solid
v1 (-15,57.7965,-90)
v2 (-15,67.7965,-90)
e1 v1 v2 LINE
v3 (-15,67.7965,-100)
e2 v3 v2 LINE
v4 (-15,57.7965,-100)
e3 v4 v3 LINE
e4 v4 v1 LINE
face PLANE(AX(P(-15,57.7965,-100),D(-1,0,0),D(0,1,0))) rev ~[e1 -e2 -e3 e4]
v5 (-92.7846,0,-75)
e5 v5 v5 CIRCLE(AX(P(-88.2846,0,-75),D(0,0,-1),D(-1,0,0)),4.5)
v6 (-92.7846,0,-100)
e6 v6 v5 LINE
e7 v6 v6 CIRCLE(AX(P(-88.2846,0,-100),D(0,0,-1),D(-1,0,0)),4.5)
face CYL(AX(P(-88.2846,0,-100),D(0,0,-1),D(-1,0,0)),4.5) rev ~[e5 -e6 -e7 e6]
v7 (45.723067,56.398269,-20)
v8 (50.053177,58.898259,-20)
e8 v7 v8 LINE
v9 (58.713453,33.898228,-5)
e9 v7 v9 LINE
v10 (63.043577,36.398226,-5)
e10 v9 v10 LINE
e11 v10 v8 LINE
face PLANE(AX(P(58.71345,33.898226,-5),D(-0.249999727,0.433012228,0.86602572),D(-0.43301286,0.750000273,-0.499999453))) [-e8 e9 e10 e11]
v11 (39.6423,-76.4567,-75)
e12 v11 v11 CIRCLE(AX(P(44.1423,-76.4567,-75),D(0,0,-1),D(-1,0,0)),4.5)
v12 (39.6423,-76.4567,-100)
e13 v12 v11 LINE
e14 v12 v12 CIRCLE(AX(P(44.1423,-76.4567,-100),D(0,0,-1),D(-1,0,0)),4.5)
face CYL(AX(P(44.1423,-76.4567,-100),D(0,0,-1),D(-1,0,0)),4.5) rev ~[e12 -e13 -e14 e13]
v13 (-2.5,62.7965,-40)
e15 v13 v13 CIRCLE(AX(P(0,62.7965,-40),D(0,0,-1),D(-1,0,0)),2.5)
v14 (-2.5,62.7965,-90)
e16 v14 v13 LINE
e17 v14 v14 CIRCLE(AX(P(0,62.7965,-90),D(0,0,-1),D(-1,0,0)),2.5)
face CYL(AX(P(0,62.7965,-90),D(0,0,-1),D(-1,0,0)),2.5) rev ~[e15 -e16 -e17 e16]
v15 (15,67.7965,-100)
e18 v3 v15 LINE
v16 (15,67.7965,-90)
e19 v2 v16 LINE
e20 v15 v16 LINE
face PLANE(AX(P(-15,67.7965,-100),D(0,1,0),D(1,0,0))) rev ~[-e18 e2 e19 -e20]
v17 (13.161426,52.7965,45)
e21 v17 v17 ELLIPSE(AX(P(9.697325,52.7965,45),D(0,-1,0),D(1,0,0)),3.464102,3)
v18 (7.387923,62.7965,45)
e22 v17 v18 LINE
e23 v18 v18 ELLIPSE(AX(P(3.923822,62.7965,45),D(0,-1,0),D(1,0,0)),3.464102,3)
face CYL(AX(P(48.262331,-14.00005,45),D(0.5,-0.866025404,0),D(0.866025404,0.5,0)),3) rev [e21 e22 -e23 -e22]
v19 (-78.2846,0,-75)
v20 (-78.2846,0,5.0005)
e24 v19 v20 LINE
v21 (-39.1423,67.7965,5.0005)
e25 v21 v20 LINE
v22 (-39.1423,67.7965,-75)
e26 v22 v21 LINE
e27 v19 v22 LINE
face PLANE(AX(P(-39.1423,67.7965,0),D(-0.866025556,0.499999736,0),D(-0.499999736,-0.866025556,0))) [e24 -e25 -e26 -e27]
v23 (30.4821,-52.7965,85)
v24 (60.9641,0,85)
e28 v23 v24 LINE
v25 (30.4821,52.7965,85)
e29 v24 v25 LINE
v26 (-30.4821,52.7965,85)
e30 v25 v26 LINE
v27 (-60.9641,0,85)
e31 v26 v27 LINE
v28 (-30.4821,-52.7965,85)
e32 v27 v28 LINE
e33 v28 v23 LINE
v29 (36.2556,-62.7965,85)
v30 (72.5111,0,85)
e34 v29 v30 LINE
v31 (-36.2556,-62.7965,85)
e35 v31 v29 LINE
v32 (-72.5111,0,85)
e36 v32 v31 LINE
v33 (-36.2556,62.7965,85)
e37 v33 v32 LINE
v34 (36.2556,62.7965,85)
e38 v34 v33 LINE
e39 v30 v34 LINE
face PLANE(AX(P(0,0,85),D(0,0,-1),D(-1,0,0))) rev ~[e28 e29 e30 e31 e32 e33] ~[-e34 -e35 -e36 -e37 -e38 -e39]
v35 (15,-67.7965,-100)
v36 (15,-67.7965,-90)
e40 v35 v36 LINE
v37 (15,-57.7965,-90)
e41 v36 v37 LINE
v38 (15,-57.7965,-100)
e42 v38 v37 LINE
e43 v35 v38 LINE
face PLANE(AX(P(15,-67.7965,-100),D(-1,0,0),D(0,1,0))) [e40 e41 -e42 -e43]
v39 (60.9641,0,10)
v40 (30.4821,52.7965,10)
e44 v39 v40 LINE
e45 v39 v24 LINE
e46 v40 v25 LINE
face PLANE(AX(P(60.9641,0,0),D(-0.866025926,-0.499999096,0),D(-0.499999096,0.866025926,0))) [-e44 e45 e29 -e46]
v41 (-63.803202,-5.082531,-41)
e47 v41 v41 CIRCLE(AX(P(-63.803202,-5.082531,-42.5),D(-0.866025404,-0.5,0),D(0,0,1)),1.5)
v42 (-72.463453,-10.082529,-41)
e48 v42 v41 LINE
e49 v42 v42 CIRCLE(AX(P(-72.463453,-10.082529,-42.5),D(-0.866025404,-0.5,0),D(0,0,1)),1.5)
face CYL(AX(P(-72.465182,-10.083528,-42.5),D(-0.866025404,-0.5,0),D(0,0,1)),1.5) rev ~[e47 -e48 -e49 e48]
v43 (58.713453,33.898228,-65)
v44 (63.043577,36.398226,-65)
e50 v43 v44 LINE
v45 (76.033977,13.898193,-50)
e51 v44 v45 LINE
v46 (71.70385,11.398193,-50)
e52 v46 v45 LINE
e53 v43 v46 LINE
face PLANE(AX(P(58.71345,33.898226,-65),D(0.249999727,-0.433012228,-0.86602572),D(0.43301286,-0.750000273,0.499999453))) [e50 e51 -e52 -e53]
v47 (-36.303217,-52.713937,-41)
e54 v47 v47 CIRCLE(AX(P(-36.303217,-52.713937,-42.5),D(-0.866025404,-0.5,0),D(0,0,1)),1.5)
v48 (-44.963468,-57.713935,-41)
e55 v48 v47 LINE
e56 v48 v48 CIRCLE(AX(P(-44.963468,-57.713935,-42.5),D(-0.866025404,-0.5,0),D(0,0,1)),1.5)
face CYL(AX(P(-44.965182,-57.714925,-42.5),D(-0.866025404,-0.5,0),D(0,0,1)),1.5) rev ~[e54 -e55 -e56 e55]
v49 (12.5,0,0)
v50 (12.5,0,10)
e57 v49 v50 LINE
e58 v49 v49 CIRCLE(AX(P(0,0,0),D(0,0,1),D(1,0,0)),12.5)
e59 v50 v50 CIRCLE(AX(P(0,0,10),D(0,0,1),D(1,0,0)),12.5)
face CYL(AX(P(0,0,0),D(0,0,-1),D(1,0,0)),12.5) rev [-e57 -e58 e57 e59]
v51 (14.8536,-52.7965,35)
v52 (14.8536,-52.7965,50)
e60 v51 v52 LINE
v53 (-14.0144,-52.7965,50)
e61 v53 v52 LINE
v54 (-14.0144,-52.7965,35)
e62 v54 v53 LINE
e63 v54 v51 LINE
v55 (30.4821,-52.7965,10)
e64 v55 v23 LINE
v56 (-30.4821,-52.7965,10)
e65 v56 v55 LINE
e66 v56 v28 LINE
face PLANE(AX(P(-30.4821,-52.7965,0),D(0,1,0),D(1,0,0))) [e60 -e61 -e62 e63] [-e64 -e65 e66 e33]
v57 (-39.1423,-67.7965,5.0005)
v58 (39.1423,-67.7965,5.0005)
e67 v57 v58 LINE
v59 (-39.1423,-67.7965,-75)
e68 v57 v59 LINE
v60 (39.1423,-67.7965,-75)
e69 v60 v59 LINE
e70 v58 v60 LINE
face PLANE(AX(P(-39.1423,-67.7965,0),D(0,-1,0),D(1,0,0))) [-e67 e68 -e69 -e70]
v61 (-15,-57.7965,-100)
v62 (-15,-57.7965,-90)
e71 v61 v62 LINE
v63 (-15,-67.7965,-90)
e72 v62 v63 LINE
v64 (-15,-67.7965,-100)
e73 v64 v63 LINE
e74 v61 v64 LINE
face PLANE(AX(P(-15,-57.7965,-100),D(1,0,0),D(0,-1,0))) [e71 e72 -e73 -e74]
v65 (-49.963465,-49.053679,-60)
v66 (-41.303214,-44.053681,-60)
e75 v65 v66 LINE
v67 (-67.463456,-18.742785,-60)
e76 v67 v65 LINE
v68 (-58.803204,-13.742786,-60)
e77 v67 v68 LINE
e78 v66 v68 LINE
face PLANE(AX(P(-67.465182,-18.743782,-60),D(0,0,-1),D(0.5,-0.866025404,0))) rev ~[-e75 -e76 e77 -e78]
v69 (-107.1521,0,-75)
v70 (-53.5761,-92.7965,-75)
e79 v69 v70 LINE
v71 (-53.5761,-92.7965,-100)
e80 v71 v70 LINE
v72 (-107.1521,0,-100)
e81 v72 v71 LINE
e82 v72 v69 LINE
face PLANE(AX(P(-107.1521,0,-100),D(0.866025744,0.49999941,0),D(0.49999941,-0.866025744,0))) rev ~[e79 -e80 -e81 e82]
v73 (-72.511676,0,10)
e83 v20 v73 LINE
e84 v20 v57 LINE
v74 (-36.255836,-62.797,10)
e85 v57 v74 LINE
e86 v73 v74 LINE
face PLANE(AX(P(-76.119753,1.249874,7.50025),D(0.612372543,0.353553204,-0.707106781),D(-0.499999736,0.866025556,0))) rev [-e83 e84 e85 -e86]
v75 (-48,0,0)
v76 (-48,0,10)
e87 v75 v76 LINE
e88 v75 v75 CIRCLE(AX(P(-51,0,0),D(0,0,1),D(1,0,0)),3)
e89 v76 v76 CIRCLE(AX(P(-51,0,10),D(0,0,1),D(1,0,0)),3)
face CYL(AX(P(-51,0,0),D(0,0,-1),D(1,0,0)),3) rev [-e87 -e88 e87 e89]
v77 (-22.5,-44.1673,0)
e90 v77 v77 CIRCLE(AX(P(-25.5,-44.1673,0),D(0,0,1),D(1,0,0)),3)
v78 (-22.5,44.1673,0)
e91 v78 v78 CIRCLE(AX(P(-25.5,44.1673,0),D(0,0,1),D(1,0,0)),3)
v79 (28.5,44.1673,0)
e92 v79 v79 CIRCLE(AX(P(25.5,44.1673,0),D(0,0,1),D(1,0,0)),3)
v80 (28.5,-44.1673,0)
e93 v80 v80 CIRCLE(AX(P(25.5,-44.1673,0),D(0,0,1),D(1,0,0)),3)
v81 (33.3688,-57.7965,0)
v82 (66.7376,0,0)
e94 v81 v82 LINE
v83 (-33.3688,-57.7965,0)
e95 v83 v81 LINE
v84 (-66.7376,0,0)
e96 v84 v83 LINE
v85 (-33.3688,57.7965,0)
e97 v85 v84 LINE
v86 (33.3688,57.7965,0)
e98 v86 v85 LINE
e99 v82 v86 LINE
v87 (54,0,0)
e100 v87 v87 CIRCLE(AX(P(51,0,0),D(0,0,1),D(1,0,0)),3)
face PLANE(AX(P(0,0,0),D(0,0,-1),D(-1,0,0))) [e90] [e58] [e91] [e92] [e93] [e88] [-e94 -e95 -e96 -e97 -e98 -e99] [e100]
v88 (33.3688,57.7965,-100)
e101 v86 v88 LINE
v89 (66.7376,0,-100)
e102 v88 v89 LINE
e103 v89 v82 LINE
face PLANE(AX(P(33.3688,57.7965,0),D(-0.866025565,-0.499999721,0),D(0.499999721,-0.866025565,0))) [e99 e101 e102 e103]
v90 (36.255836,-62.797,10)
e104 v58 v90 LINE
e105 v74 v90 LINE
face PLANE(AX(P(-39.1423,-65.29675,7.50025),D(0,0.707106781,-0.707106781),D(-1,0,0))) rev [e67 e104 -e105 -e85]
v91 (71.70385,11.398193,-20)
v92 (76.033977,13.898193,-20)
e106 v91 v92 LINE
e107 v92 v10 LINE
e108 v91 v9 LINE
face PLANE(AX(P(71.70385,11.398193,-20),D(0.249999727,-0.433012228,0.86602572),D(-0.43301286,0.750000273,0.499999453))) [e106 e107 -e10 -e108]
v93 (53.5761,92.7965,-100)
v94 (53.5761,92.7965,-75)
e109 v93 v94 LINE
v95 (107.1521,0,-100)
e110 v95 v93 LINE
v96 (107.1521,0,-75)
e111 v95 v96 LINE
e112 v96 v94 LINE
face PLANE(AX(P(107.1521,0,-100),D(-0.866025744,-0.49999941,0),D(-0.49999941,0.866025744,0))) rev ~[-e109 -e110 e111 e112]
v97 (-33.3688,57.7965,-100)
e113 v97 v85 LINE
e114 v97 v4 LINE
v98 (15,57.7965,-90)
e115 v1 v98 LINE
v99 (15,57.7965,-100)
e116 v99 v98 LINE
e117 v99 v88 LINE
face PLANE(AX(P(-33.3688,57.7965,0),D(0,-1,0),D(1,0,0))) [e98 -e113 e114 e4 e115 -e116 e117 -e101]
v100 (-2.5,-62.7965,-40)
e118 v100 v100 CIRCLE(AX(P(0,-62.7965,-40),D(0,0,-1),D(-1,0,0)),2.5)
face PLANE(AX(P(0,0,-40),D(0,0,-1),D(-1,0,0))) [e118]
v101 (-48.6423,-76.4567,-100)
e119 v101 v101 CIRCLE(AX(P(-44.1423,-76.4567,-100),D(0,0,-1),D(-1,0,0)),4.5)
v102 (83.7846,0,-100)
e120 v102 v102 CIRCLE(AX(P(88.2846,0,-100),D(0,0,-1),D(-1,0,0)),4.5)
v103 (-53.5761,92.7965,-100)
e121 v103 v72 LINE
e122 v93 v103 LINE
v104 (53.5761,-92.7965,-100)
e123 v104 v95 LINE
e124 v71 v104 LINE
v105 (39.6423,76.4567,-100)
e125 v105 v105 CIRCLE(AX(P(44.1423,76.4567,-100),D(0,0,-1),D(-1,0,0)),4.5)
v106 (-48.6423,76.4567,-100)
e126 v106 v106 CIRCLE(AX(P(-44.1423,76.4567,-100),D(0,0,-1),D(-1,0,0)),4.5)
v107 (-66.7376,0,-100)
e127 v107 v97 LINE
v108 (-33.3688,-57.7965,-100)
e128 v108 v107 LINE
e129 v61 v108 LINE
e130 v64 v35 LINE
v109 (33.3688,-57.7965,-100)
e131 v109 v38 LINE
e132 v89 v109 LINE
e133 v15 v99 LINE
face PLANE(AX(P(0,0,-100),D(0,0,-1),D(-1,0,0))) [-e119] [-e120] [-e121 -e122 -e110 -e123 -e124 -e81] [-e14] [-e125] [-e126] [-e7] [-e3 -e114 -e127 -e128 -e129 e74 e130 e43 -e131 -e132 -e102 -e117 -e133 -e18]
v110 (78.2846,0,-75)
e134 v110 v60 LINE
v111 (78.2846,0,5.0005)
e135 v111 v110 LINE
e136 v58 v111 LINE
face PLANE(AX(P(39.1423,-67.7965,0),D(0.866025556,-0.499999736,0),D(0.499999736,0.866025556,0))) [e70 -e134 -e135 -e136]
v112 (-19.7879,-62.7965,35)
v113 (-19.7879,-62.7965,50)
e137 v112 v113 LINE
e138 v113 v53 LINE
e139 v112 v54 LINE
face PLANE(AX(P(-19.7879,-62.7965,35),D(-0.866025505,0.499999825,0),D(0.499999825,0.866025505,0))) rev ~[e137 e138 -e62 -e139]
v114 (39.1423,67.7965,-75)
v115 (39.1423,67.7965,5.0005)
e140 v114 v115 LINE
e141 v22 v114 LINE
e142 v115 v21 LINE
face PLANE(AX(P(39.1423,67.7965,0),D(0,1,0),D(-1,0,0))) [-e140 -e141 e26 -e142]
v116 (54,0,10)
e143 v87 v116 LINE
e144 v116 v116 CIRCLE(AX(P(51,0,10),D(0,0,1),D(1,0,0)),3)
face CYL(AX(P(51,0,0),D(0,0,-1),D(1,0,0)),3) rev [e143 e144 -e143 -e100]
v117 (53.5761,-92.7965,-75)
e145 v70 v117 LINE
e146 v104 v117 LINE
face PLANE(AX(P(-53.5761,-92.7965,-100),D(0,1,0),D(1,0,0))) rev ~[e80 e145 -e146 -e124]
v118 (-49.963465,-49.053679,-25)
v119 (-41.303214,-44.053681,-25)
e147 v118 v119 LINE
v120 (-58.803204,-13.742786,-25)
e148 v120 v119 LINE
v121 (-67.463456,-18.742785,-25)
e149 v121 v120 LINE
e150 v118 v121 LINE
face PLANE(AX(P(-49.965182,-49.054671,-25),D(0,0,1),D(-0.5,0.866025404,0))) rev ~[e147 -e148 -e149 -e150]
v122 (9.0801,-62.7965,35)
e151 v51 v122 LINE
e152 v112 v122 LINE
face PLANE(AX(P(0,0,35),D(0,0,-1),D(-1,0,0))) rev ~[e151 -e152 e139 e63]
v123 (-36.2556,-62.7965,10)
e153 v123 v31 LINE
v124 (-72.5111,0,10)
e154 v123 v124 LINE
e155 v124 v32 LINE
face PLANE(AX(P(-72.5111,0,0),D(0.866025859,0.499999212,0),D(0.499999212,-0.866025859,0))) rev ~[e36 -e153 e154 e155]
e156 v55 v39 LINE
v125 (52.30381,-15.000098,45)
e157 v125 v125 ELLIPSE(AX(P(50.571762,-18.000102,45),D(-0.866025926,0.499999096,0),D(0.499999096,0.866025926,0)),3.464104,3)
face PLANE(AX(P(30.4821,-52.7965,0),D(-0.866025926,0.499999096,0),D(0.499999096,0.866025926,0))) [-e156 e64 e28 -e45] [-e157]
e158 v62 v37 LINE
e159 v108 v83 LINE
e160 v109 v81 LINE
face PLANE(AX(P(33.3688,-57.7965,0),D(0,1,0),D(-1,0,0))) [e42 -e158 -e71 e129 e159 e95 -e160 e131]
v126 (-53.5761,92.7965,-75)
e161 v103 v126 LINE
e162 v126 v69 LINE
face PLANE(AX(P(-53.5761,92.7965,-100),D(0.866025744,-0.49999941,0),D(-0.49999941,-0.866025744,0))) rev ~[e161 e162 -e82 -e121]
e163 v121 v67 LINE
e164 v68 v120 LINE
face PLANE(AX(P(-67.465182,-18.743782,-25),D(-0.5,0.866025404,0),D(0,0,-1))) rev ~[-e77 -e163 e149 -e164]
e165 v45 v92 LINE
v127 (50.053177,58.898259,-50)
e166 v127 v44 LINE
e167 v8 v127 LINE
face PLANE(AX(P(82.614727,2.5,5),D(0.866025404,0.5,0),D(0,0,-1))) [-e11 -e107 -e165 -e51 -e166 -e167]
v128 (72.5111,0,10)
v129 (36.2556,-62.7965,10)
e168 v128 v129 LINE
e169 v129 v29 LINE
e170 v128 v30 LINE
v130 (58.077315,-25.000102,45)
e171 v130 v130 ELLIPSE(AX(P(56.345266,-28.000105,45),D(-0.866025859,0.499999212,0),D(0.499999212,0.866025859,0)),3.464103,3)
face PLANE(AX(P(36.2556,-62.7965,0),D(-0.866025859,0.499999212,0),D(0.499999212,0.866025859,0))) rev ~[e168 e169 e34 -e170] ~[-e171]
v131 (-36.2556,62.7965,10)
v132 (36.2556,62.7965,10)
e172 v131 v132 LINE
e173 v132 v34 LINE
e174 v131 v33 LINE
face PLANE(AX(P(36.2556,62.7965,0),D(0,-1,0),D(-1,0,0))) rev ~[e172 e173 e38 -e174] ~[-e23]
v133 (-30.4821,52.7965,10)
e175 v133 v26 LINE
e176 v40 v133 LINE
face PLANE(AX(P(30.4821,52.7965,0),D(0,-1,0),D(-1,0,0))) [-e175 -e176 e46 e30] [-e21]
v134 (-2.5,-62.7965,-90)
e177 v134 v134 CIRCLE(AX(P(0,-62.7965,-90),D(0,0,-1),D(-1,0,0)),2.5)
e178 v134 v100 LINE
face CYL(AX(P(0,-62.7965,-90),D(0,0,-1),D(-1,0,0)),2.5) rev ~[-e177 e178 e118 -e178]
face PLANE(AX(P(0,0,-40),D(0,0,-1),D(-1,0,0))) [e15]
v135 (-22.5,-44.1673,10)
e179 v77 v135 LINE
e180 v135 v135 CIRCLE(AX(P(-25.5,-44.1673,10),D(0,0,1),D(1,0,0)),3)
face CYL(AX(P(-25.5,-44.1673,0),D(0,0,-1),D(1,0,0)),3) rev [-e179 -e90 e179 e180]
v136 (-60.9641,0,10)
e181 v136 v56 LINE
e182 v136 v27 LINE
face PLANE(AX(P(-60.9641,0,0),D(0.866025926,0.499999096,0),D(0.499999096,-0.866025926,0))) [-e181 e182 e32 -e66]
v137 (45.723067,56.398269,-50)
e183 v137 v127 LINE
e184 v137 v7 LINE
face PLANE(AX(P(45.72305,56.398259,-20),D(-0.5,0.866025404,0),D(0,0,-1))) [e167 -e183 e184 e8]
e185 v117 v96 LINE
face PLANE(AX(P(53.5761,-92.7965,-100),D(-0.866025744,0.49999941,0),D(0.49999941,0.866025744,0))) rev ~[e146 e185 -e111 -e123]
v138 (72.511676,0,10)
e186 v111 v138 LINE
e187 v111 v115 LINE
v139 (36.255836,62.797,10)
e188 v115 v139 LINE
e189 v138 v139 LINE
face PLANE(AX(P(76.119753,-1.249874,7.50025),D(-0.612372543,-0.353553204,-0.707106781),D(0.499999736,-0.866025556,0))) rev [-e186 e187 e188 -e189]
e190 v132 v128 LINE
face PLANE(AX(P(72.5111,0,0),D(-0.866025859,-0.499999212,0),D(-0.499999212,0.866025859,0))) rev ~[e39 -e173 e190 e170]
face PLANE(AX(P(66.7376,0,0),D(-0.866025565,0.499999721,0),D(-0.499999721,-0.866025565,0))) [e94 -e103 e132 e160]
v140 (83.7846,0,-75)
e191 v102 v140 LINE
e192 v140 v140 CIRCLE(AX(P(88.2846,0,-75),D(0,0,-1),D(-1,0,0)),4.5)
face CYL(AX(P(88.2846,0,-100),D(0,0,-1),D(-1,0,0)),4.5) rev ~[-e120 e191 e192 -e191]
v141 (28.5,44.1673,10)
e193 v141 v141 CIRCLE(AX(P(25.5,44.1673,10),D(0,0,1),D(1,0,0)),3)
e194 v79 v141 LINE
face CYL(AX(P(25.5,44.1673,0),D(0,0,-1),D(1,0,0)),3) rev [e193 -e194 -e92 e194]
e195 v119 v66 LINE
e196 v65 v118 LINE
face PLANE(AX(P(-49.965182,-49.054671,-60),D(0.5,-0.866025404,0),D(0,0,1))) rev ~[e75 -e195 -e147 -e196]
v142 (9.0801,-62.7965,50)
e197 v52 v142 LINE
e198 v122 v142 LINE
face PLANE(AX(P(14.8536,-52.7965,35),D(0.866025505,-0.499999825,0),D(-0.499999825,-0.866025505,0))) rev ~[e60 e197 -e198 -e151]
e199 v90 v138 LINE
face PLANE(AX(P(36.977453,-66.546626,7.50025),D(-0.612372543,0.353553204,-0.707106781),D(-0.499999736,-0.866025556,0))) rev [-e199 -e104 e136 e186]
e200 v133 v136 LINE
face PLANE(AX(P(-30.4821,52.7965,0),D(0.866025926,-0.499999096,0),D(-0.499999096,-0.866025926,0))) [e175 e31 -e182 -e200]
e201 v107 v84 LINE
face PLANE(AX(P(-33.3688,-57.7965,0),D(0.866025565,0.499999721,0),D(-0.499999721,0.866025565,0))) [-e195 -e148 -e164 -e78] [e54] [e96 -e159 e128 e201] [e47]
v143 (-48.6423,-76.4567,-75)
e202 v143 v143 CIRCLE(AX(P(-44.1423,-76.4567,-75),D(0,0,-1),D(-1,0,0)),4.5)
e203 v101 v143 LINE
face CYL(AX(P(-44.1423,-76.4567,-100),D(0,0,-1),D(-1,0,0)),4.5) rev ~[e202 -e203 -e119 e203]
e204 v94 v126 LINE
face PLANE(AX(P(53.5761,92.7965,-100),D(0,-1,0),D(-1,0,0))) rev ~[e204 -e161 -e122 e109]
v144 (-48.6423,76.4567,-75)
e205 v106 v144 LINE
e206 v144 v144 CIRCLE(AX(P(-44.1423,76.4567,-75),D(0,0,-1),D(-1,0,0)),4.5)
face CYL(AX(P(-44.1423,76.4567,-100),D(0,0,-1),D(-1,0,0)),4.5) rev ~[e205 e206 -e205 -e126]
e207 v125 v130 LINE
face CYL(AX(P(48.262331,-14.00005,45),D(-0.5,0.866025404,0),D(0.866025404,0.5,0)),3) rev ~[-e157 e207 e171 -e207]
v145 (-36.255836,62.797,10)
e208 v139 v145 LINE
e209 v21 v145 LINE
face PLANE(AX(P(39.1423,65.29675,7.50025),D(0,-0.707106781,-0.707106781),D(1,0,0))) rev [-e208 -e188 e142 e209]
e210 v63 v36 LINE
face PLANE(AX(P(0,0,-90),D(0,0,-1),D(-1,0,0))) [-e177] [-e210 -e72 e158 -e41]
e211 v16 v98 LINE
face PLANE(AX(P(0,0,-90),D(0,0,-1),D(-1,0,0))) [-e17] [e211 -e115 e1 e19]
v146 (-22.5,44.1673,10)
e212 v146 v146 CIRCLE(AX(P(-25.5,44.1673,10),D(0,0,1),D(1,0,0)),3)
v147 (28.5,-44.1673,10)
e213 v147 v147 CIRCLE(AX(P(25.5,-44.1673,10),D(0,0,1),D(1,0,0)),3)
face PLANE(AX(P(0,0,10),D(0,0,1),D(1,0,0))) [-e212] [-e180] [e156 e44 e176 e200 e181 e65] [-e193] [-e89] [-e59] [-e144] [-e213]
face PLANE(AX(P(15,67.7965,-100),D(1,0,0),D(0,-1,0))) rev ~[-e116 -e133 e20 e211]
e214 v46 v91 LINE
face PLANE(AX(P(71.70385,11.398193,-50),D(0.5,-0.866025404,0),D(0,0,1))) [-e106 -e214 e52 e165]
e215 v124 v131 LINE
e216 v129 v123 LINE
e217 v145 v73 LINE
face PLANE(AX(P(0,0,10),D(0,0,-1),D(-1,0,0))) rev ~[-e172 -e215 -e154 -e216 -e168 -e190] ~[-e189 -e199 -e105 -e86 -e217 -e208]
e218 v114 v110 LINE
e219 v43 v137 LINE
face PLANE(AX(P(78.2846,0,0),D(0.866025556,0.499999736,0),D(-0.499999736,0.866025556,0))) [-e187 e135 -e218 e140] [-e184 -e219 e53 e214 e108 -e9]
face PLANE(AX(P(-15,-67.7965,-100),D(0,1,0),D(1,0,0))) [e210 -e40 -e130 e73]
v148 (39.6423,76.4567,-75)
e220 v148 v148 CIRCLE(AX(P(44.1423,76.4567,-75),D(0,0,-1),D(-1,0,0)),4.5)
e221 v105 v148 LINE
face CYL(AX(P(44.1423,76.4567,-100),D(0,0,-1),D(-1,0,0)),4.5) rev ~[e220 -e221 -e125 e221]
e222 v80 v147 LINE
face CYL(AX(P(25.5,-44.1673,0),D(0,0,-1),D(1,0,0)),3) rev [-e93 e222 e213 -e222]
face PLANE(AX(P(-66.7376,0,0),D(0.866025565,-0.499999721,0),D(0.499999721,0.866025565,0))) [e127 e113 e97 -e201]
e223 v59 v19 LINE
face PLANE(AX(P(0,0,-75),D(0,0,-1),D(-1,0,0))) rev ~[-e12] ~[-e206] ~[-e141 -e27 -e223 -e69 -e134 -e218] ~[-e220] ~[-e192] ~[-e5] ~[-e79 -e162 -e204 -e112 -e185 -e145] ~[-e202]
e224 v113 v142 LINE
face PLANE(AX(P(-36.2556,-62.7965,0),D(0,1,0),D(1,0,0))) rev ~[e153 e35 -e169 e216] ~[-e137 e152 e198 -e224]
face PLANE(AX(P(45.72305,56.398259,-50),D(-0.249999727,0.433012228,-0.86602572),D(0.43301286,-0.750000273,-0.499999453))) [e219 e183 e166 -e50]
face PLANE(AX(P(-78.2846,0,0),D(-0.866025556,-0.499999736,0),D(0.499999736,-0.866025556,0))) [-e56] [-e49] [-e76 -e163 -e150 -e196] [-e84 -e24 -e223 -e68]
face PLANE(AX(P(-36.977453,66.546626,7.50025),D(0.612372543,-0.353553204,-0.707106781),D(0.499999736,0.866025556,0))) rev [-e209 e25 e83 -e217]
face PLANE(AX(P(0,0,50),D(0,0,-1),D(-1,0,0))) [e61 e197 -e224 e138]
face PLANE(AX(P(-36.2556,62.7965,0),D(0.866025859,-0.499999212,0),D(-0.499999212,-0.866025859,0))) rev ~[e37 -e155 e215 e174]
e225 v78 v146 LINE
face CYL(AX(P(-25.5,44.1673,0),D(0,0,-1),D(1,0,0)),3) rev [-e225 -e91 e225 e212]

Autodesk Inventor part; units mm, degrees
ref_plane "YZ Plane" through (0, 0, 0) normal (1, 0, 0) x (0, 1, 0)
sketch "Sketch1" plane through (0, 0, 0) normal (0, 0, 1) x (1, 0, 0)
  circle A0 centre (0, 0) radius 12.5
  circle A1 centre (51, 0) radius 3
  circle A2 centre (25.5, 44.1673) radius 3
  circle A3 centre (-25.5, 44.1673) radius 3
  circle A4 centre (-51, 0) radius 3
  circle A5 centre (-25.5, -44.1673) radius 3
  circle A6 centre (25.5, -44.1673) radius 3
  line L0 (57.5, 0) -> (28.75, -49.7965)
  line L1 (28.75, -49.7965) -> (-28.75, -49.7965)
  line L2 (-28.75, -49.7965) -> (-57.5, 0)
  line L3 (-57.5, 0) -> (-28.75, 49.7965)
  line L4 (-28.75, 49.7965) -> (28.75, 49.7965)
  line L5 (28.75, 49.7965) -> (57.5, 0)
  line L6 (-30.4821, 52.7965) -> (-60.9641, 0)
  line L7 (-60.9641, 0) -> (-30.4821, -52.7965)
  line L8 (-30.4821, -52.7965) -> (30.4821, -52.7965)
  line L9 (30.4821, -52.7965) -> (60.9641, 0)
  line L10 (60.9641, 0) -> (30.4821, 52.7965)
  line L11 (30.4821, 52.7965) -> (-30.4821, 52.7965)
  dimension "d0" = 25
  dimension "d1" = 6
  dimension "d2" = 51
  dimension "d5" = 360
  dimension "d7" = 115
  dimension "d8" = 3
extrude "Extrusion1" add sketch "Sketch1" along normal blind 10 contours L0 L1 L2 L3 L4 L5 | L11 L10 L9 L8 L7 L6
sketch "Sketch2" plane through (0, 0, 0) normal (0, 0, -1) x (-1, 0, 0)
  circle A0 centre (0, 0) radius 12.5 projected
  circle A1 centre (-25.5, -44.1673) radius 3 projected
  circle A2 centre (25.5, -44.1673) radius 3 projected
  circle A3 centre (51, 0) radius 3 projected
  circle A4 centre (25.5, 44.1673) radius 3 projected
  circle A5 centre (-25.5, 44.1673) radius 3 projected
  circle A6 centre (-51, 0) radius 3 projected
  line L0 (30.4821, 52.7965) -> (60.9641, 0) projected
  line L1 (-30.4821, 52.7965) -> (30.4821, 52.7965) projected
  line L2 (-60.9641, 0) -> (-30.4821, 52.7965) projected
  line L3 (-30.4821, -52.7965) -> (-60.9641, 0) projected
  line L4 (30.4821, -52.7965) -> (-30.4821, -52.7965) projected
  line L5 (60.9641, 0) -> (30.4821, -52.7965) projected
  line L6 (36.2556, -62.7965) -> (-36.2556, -62.7965)
  line L7 (-36.2556, -62.7965) -> (-72.5111, 0)
  line L8 (-72.5111, 0) -> (-36.2556, 62.7965)
  line L9 (-36.2556, 62.7965) -> (36.2556, 62.7965)
  line L10 (36.2556, 62.7965) -> (72.5111, 0)
  line L11 (72.5111, 0) -> (36.2556, -62.7965)
  dimension "d11" = 10
extrude "Extrusion2" add sketch "Sketch2" against normal blind 85 contours L6 L7 L8 L9 L10 L11
ref_plane "Work Plane1" through (0, 0, 35) normal (0, 0, -1) x (-1, 0, 0)
sketch "Sketch4" plane through (0, 0, 35) normal (0, 0, -1) x (-1, 0, 0)
  line L0 (36.2556, -62.7965) -> (-36.2556, -62.7965) projected
  line L1 (19.7879, -62.7965) -> (14.0144, -52.7965)
  line L2 (30.4821, -52.7965) -> (-30.4821, -52.7965) projected
  line L3 (-14.8536, -52.7965) -> (14.0144, -52.7965)
  line L4 (-14.8536, -52.7965) -> (-9.0801, -62.7965)
  line L5 (-9.0801, -62.7965) -> (19.7879, -62.7965)
  point P0 (0, 0)
  point P1 (11.6009, -5.3708)
  dimension "d28" = 60
  dimension "d29" = 28.868
  dimension "d30" = 21.402
extrude "Extrusion4" cut sketch "Sketch4" against normal blind 15
ref_plane "Work Plane2" through (-36.2556, -62.7965, 85) normal (-0.5, 0.866, 0) x (0.866, 0.5, 0)
sketch "Sketch5" plane through (-36.2556, -62.7965, 85) normal (-0.5, 0.866, 0) x (0.866, 0.5, 0)
  line L0 (125.5929, 85) -> (125.5929, 0) projected
  circle A0 centre (97.5929, 40) radius 3
  line L1 (115.5929, 75) -> (62.7965, 75) projected
  point P0 (0, 0)
  dimension "d38" = 6
  dimension "d39" = 35
  dimension "d40" = 28
extrude "Extrusion5" cut sketch "Sketch5" along normal through all both and the other way through all
sketch "Sketch7" plane through (0, 0, 0) normal (0, 0, -1) x (-1, 0, 0)
  line L0 (36.2556, -62.7965) -> (-36.2556, -62.7965) projected
  line L1 (72.5111, 0) -> (36.2556, -62.7965) projected
  line L2 (36.2556, 62.7965) -> (72.5111, 0) projected
  line L3 (-36.2556, 62.7965) -> (36.2556, 62.7965) projected
  line L4 (-72.5111, 0) -> (-36.2556, 62.7965) projected
  line L5 (-36.2556, -62.7965) -> (-72.5111, 0) construction
  circle A0 centre (0, 0) radius 12.5 projected
  circle A1 centre (-25.5, -44.1673) radius 3 projected
  circle A2 centre (25.5, -44.1673) radius 3 projected
  circle A3 centre (51, 0) radius 3 projected
  circle A4 centre (25.5, 44.1673) radius 3 projected
  circle A5 centre (-25.5, 44.1673) radius 3 projected
  circle A6 centre (-51, 0) radius 3 projected
  line L6 (-60.9641, 0) -> (-30.4821, 52.7965) projected
  line L7 (-30.4821, -52.7965) -> (-60.9641, 0) construction
  line L8 (30.4821, -52.7965) -> (-30.4821, -52.7965) projected
  line L9 (60.9641, 0) -> (30.4821, -52.7965) projected
  line L10 (30.4821, 52.7965) -> (60.9641, 0) projected
  line L11 (-30.4821, 52.7965) -> (30.4821, 52.7965) projected
  line L12 (-78.2846, 0) -> (-39.1423, 67.7965)
  line L13 (-39.1423, 67.7965) -> (39.1423, 67.7965)
  line L14 (39.1423, 67.7965) -> (78.2846, 0)
  line L15 (78.2846, 0) -> (39.1423, -67.7965)
  line L16 (39.1423, -67.7965) -> (-39.1423, -67.7965)
  line L17 (-39.1423, -67.7965) -> (-78.2846, 0)
  line L18 (-33.3688, 57.7965) -> (-66.7376, 0)
  line L19 (-66.7376, 0) -> (-33.3688, -57.7965)
  line L20 (-33.3688, -57.7965) -> (33.3688, -57.7965)
  line L21 (33.3688, -57.7965) -> (66.7376, 0)
  line L22 (66.7376, 0) -> (33.3688, 57.7965)
  line L23 (33.3688, 57.7965) -> (-33.3688, 57.7965)
  dimension "d41" = 5
  dimension "d42" = 5
extrude "Extrusion6" add sketch "Sketch7" along normal blind 100 and the other way blind 10 contours L12 L13 L14 L15 L16 L17
sketch "Sketch8" plane through (0, 0, -100) normal (0, 0, -1) x (-1, 0, 0)
  circle A0 centre (-88.2846, 0) radius 4.5
  circle A1 centre (-44.1423, -76.4567) radius 4.5
  circle A2 centre (44.1423, -76.4567) radius 4.5
  circle A3 centre (88.2846, 0) radius 4.5
  circle A4 centre (44.1423, 76.4567) radius 4.5
  circle A5 centre (-44.1423, 76.4567) radius 4.5
  line L0 (-33.3688, 57.7965) -> (33.3688, 57.7965) construction
  line L1 (33.3688, 57.7965) -> (66.7376, 0) construction
  line L2 (66.7376, 0) -> (33.3688, -57.7965) construction
  line L3 (33.3688, -57.7965) -> (-33.3688, -57.7965) construction
  line L4 (-33.3688, -57.7965) -> (-66.7376, 0) construction
  line L5 (-66.7376, 0) -> (-33.3688, 57.7965) construction
  line L6 (-39.1423, 67.7965) -> (-78.2846, 0) projected
  line L7 (-78.2846, 0) -> (-39.1423, -67.7965) projected
  line L8 (-39.1423, -67.7965) -> (39.1423, -67.7965) projected
  line L9 (39.1423, -67.7965) -> (78.2846, 0) projected
  line L10 (78.2846, 0) -> (39.1423, 67.7965) projected
  line L11 (39.1423, 67.7965) -> (-39.1423, 67.7965) projected
  line L12 (-53.5761, -92.7965) -> (-107.1521, 0)
  line L13 (-107.1521, 0) -> (-53.5761, 92.7965)
  line L14 (-53.5761, 92.7965) -> (53.5761, 92.7965)
  line L15 (53.5761, 92.7965) -> (107.1521, 0)
  line L16 (107.1521, 0) -> (53.5761, -92.7965)
  line L17 (53.5761, -92.7965) -> (-53.5761, -92.7965)
  point P0 (0, 0)
  dimension "d47" = 9
  dimension "d48" = 10
  dimension "d51" = 360
  dimension "d53" = 25
extrude "Extrusion7" add sketch "Sketch8" against normal blind 25
sketch "Sketch9" plane through (0, 0, -100) normal (0, 0, -1) x (-1, 0, 0)
  line L0 (33.3688, -57.7965) -> (-33.3688, -57.7965) projected
  line L1 (-15, -57.7965) -> (15, -57.7965)
  line L2 (15, -57.7965) -> (15, -67.7965)
  line L3 (15, -67.7965) -> (-15, -67.7965)
  line L4 (-15, -67.7965) -> (-15, -57.7965)
  line L5 (33.3688, 57.7965) -> (-33.3688, 57.7965) projected
  line L6 (-15, 57.7965) -> (15, 57.7965)
  line L7 (15, 57.7965) -> (15, 67.7965)
  line L8 (15, 67.7965) -> (-15, 67.7965)
  line L9 (-15, 67.7965) -> (-15, 57.7965)
  line L10 (-33.3688, 57.7965) -> (33.3688, 57.7965) projected
  point P0 (0, 0)
  point P1 (0, 57.7965)
  point P2 (0, -57.7965)
  point P3 (0, 57.7965)
  point P4 (0, 57.7965)
  dimension "d56" = 10
  dimension "d57" = 10
  dimension "d58" = 30
extrude "Extrusion8" cut sketch "Sketch9" against normal blind 10
chamfer "Chamfer1" distance 5 angle 45 6 edges at (-58.7135, 33.8982, 10) (0, 67.7965, 10) (58.7135, 33.8982, 10) (58.7135, -33.8982, 10) (0, -67.7965, 10) (-58.7135, -33.8982, 10)
sketch "Sketch10" plane through (0, 0, -90) normal (0, 0, -1) x (-1, 0, 0)
  line L0 (15, 57.7965) -> (-15, 57.7965) construction
  line L1 (15, 67.7965) -> (15, 57.7965) construction
  line L2 (-15, 67.7965) -> (15, 67.7965) construction
  line L3 (-15, 57.7965) -> (-15, 67.7965) construction
  line L4 (-15, -57.7965) -> (15, -57.7965) construction
  line L5 (-15, -67.7965) -> (-15, -57.7965) construction
  line L6 (15, -67.7965) -> (-15, -67.7965) construction
  line L7 (15, -57.7965) -> (15, -67.7965) construction
  circle A0 centre (0, 62.7965) radius 2.5
  circle A1 centre (0, -62.7965) radius 2.5
  point P0 (0, 0)
  point P1 (0, 67.7965)
  point P2 (0, -57.7965)
  point P3 (-15, 62.7965)
  point P4 (-15, -62.7965)
  dimension "d64" = 5
  dimension "d65" = 5
extrude "Extrusion9" cut sketch "Sketch10" against normal blind 50
sketch "Sketch11" plane through (-78.2846, 0, -75) normal (-0.866, -0.5, 0) x (0, 0, 1)
  line L0 (80, 0) -> (80, -78.2846) projected
  line L1 (0, 0) -> (80, 0) projected
  line L2 (0, 0) -> (0, -78.2846) projected
  line L3 (0, -78.2846) -> (80, -78.2846) projected
  line L4 (50, -21.6423) -> (15, -21.6423)
  line L5 (15, -21.6423) -> (15, -56.6423)
  line L6 (15, -56.6423) -> (50, -56.6423)
  line L7 (50, -56.6423) -> (50, -21.6423)
  circle A0 centre (32.5, -11.6423) radius 1.5
  circle A1 centre (32.5, -66.6423) radius 1.5
  point P0 (75, -39.1423)
  point P1 (50, -39.1423)
  point P2 (80, -39.1423)
  point P3 (32.5, -21.6423)
  point P4 (32.5, -56.6423)
  dimension "d68" = 35
  dimension "d69" = 35
  dimension "d70" = 15
  dimension "d77" = 3
  dimension "d78" = 3
  dimension "d79" = 10
  dimension "d80" = 10
extrude "Extrusion10" cut sketch "Sketch11" against normal blind 25 contours L7 L6 L5 L4 | A0 | A1
sketch "Sketch12" plane through (78.2846, 0, 5) normal (0.866, 0.5, 0) x (0, 0, -1)
  line L0 (10, 39.1423) -> (25, 65.1231)
  line L1 (25, 65.1231) -> (55, 65.1231)
  line L2 (55, 65.1231) -> (70, 39.1423)
  line L3 (70, 39.1423) -> (55, 13.1615)
  line L4 (55, 13.1615) -> (25, 13.1615)
  line L5 (25, 13.1615) -> (10, 39.1423)
  line L6 (0, 0) -> (0, 78.2846) projected
  line L7 (80, -14.4338) -> (80, 92.7184) projected
  point P0 (5, 39.1423)
  point P1 (40, 39.1423)
  point P2 (0, 39.1423)
  dimension "d73" = 60
  dimension "d74" = 40
extrude "Extrusion11" add sketch "Sketch12" along normal blind 5
equation "\"d57\" = d56"
properties part number "TARM15" material "ABS Plastic"
